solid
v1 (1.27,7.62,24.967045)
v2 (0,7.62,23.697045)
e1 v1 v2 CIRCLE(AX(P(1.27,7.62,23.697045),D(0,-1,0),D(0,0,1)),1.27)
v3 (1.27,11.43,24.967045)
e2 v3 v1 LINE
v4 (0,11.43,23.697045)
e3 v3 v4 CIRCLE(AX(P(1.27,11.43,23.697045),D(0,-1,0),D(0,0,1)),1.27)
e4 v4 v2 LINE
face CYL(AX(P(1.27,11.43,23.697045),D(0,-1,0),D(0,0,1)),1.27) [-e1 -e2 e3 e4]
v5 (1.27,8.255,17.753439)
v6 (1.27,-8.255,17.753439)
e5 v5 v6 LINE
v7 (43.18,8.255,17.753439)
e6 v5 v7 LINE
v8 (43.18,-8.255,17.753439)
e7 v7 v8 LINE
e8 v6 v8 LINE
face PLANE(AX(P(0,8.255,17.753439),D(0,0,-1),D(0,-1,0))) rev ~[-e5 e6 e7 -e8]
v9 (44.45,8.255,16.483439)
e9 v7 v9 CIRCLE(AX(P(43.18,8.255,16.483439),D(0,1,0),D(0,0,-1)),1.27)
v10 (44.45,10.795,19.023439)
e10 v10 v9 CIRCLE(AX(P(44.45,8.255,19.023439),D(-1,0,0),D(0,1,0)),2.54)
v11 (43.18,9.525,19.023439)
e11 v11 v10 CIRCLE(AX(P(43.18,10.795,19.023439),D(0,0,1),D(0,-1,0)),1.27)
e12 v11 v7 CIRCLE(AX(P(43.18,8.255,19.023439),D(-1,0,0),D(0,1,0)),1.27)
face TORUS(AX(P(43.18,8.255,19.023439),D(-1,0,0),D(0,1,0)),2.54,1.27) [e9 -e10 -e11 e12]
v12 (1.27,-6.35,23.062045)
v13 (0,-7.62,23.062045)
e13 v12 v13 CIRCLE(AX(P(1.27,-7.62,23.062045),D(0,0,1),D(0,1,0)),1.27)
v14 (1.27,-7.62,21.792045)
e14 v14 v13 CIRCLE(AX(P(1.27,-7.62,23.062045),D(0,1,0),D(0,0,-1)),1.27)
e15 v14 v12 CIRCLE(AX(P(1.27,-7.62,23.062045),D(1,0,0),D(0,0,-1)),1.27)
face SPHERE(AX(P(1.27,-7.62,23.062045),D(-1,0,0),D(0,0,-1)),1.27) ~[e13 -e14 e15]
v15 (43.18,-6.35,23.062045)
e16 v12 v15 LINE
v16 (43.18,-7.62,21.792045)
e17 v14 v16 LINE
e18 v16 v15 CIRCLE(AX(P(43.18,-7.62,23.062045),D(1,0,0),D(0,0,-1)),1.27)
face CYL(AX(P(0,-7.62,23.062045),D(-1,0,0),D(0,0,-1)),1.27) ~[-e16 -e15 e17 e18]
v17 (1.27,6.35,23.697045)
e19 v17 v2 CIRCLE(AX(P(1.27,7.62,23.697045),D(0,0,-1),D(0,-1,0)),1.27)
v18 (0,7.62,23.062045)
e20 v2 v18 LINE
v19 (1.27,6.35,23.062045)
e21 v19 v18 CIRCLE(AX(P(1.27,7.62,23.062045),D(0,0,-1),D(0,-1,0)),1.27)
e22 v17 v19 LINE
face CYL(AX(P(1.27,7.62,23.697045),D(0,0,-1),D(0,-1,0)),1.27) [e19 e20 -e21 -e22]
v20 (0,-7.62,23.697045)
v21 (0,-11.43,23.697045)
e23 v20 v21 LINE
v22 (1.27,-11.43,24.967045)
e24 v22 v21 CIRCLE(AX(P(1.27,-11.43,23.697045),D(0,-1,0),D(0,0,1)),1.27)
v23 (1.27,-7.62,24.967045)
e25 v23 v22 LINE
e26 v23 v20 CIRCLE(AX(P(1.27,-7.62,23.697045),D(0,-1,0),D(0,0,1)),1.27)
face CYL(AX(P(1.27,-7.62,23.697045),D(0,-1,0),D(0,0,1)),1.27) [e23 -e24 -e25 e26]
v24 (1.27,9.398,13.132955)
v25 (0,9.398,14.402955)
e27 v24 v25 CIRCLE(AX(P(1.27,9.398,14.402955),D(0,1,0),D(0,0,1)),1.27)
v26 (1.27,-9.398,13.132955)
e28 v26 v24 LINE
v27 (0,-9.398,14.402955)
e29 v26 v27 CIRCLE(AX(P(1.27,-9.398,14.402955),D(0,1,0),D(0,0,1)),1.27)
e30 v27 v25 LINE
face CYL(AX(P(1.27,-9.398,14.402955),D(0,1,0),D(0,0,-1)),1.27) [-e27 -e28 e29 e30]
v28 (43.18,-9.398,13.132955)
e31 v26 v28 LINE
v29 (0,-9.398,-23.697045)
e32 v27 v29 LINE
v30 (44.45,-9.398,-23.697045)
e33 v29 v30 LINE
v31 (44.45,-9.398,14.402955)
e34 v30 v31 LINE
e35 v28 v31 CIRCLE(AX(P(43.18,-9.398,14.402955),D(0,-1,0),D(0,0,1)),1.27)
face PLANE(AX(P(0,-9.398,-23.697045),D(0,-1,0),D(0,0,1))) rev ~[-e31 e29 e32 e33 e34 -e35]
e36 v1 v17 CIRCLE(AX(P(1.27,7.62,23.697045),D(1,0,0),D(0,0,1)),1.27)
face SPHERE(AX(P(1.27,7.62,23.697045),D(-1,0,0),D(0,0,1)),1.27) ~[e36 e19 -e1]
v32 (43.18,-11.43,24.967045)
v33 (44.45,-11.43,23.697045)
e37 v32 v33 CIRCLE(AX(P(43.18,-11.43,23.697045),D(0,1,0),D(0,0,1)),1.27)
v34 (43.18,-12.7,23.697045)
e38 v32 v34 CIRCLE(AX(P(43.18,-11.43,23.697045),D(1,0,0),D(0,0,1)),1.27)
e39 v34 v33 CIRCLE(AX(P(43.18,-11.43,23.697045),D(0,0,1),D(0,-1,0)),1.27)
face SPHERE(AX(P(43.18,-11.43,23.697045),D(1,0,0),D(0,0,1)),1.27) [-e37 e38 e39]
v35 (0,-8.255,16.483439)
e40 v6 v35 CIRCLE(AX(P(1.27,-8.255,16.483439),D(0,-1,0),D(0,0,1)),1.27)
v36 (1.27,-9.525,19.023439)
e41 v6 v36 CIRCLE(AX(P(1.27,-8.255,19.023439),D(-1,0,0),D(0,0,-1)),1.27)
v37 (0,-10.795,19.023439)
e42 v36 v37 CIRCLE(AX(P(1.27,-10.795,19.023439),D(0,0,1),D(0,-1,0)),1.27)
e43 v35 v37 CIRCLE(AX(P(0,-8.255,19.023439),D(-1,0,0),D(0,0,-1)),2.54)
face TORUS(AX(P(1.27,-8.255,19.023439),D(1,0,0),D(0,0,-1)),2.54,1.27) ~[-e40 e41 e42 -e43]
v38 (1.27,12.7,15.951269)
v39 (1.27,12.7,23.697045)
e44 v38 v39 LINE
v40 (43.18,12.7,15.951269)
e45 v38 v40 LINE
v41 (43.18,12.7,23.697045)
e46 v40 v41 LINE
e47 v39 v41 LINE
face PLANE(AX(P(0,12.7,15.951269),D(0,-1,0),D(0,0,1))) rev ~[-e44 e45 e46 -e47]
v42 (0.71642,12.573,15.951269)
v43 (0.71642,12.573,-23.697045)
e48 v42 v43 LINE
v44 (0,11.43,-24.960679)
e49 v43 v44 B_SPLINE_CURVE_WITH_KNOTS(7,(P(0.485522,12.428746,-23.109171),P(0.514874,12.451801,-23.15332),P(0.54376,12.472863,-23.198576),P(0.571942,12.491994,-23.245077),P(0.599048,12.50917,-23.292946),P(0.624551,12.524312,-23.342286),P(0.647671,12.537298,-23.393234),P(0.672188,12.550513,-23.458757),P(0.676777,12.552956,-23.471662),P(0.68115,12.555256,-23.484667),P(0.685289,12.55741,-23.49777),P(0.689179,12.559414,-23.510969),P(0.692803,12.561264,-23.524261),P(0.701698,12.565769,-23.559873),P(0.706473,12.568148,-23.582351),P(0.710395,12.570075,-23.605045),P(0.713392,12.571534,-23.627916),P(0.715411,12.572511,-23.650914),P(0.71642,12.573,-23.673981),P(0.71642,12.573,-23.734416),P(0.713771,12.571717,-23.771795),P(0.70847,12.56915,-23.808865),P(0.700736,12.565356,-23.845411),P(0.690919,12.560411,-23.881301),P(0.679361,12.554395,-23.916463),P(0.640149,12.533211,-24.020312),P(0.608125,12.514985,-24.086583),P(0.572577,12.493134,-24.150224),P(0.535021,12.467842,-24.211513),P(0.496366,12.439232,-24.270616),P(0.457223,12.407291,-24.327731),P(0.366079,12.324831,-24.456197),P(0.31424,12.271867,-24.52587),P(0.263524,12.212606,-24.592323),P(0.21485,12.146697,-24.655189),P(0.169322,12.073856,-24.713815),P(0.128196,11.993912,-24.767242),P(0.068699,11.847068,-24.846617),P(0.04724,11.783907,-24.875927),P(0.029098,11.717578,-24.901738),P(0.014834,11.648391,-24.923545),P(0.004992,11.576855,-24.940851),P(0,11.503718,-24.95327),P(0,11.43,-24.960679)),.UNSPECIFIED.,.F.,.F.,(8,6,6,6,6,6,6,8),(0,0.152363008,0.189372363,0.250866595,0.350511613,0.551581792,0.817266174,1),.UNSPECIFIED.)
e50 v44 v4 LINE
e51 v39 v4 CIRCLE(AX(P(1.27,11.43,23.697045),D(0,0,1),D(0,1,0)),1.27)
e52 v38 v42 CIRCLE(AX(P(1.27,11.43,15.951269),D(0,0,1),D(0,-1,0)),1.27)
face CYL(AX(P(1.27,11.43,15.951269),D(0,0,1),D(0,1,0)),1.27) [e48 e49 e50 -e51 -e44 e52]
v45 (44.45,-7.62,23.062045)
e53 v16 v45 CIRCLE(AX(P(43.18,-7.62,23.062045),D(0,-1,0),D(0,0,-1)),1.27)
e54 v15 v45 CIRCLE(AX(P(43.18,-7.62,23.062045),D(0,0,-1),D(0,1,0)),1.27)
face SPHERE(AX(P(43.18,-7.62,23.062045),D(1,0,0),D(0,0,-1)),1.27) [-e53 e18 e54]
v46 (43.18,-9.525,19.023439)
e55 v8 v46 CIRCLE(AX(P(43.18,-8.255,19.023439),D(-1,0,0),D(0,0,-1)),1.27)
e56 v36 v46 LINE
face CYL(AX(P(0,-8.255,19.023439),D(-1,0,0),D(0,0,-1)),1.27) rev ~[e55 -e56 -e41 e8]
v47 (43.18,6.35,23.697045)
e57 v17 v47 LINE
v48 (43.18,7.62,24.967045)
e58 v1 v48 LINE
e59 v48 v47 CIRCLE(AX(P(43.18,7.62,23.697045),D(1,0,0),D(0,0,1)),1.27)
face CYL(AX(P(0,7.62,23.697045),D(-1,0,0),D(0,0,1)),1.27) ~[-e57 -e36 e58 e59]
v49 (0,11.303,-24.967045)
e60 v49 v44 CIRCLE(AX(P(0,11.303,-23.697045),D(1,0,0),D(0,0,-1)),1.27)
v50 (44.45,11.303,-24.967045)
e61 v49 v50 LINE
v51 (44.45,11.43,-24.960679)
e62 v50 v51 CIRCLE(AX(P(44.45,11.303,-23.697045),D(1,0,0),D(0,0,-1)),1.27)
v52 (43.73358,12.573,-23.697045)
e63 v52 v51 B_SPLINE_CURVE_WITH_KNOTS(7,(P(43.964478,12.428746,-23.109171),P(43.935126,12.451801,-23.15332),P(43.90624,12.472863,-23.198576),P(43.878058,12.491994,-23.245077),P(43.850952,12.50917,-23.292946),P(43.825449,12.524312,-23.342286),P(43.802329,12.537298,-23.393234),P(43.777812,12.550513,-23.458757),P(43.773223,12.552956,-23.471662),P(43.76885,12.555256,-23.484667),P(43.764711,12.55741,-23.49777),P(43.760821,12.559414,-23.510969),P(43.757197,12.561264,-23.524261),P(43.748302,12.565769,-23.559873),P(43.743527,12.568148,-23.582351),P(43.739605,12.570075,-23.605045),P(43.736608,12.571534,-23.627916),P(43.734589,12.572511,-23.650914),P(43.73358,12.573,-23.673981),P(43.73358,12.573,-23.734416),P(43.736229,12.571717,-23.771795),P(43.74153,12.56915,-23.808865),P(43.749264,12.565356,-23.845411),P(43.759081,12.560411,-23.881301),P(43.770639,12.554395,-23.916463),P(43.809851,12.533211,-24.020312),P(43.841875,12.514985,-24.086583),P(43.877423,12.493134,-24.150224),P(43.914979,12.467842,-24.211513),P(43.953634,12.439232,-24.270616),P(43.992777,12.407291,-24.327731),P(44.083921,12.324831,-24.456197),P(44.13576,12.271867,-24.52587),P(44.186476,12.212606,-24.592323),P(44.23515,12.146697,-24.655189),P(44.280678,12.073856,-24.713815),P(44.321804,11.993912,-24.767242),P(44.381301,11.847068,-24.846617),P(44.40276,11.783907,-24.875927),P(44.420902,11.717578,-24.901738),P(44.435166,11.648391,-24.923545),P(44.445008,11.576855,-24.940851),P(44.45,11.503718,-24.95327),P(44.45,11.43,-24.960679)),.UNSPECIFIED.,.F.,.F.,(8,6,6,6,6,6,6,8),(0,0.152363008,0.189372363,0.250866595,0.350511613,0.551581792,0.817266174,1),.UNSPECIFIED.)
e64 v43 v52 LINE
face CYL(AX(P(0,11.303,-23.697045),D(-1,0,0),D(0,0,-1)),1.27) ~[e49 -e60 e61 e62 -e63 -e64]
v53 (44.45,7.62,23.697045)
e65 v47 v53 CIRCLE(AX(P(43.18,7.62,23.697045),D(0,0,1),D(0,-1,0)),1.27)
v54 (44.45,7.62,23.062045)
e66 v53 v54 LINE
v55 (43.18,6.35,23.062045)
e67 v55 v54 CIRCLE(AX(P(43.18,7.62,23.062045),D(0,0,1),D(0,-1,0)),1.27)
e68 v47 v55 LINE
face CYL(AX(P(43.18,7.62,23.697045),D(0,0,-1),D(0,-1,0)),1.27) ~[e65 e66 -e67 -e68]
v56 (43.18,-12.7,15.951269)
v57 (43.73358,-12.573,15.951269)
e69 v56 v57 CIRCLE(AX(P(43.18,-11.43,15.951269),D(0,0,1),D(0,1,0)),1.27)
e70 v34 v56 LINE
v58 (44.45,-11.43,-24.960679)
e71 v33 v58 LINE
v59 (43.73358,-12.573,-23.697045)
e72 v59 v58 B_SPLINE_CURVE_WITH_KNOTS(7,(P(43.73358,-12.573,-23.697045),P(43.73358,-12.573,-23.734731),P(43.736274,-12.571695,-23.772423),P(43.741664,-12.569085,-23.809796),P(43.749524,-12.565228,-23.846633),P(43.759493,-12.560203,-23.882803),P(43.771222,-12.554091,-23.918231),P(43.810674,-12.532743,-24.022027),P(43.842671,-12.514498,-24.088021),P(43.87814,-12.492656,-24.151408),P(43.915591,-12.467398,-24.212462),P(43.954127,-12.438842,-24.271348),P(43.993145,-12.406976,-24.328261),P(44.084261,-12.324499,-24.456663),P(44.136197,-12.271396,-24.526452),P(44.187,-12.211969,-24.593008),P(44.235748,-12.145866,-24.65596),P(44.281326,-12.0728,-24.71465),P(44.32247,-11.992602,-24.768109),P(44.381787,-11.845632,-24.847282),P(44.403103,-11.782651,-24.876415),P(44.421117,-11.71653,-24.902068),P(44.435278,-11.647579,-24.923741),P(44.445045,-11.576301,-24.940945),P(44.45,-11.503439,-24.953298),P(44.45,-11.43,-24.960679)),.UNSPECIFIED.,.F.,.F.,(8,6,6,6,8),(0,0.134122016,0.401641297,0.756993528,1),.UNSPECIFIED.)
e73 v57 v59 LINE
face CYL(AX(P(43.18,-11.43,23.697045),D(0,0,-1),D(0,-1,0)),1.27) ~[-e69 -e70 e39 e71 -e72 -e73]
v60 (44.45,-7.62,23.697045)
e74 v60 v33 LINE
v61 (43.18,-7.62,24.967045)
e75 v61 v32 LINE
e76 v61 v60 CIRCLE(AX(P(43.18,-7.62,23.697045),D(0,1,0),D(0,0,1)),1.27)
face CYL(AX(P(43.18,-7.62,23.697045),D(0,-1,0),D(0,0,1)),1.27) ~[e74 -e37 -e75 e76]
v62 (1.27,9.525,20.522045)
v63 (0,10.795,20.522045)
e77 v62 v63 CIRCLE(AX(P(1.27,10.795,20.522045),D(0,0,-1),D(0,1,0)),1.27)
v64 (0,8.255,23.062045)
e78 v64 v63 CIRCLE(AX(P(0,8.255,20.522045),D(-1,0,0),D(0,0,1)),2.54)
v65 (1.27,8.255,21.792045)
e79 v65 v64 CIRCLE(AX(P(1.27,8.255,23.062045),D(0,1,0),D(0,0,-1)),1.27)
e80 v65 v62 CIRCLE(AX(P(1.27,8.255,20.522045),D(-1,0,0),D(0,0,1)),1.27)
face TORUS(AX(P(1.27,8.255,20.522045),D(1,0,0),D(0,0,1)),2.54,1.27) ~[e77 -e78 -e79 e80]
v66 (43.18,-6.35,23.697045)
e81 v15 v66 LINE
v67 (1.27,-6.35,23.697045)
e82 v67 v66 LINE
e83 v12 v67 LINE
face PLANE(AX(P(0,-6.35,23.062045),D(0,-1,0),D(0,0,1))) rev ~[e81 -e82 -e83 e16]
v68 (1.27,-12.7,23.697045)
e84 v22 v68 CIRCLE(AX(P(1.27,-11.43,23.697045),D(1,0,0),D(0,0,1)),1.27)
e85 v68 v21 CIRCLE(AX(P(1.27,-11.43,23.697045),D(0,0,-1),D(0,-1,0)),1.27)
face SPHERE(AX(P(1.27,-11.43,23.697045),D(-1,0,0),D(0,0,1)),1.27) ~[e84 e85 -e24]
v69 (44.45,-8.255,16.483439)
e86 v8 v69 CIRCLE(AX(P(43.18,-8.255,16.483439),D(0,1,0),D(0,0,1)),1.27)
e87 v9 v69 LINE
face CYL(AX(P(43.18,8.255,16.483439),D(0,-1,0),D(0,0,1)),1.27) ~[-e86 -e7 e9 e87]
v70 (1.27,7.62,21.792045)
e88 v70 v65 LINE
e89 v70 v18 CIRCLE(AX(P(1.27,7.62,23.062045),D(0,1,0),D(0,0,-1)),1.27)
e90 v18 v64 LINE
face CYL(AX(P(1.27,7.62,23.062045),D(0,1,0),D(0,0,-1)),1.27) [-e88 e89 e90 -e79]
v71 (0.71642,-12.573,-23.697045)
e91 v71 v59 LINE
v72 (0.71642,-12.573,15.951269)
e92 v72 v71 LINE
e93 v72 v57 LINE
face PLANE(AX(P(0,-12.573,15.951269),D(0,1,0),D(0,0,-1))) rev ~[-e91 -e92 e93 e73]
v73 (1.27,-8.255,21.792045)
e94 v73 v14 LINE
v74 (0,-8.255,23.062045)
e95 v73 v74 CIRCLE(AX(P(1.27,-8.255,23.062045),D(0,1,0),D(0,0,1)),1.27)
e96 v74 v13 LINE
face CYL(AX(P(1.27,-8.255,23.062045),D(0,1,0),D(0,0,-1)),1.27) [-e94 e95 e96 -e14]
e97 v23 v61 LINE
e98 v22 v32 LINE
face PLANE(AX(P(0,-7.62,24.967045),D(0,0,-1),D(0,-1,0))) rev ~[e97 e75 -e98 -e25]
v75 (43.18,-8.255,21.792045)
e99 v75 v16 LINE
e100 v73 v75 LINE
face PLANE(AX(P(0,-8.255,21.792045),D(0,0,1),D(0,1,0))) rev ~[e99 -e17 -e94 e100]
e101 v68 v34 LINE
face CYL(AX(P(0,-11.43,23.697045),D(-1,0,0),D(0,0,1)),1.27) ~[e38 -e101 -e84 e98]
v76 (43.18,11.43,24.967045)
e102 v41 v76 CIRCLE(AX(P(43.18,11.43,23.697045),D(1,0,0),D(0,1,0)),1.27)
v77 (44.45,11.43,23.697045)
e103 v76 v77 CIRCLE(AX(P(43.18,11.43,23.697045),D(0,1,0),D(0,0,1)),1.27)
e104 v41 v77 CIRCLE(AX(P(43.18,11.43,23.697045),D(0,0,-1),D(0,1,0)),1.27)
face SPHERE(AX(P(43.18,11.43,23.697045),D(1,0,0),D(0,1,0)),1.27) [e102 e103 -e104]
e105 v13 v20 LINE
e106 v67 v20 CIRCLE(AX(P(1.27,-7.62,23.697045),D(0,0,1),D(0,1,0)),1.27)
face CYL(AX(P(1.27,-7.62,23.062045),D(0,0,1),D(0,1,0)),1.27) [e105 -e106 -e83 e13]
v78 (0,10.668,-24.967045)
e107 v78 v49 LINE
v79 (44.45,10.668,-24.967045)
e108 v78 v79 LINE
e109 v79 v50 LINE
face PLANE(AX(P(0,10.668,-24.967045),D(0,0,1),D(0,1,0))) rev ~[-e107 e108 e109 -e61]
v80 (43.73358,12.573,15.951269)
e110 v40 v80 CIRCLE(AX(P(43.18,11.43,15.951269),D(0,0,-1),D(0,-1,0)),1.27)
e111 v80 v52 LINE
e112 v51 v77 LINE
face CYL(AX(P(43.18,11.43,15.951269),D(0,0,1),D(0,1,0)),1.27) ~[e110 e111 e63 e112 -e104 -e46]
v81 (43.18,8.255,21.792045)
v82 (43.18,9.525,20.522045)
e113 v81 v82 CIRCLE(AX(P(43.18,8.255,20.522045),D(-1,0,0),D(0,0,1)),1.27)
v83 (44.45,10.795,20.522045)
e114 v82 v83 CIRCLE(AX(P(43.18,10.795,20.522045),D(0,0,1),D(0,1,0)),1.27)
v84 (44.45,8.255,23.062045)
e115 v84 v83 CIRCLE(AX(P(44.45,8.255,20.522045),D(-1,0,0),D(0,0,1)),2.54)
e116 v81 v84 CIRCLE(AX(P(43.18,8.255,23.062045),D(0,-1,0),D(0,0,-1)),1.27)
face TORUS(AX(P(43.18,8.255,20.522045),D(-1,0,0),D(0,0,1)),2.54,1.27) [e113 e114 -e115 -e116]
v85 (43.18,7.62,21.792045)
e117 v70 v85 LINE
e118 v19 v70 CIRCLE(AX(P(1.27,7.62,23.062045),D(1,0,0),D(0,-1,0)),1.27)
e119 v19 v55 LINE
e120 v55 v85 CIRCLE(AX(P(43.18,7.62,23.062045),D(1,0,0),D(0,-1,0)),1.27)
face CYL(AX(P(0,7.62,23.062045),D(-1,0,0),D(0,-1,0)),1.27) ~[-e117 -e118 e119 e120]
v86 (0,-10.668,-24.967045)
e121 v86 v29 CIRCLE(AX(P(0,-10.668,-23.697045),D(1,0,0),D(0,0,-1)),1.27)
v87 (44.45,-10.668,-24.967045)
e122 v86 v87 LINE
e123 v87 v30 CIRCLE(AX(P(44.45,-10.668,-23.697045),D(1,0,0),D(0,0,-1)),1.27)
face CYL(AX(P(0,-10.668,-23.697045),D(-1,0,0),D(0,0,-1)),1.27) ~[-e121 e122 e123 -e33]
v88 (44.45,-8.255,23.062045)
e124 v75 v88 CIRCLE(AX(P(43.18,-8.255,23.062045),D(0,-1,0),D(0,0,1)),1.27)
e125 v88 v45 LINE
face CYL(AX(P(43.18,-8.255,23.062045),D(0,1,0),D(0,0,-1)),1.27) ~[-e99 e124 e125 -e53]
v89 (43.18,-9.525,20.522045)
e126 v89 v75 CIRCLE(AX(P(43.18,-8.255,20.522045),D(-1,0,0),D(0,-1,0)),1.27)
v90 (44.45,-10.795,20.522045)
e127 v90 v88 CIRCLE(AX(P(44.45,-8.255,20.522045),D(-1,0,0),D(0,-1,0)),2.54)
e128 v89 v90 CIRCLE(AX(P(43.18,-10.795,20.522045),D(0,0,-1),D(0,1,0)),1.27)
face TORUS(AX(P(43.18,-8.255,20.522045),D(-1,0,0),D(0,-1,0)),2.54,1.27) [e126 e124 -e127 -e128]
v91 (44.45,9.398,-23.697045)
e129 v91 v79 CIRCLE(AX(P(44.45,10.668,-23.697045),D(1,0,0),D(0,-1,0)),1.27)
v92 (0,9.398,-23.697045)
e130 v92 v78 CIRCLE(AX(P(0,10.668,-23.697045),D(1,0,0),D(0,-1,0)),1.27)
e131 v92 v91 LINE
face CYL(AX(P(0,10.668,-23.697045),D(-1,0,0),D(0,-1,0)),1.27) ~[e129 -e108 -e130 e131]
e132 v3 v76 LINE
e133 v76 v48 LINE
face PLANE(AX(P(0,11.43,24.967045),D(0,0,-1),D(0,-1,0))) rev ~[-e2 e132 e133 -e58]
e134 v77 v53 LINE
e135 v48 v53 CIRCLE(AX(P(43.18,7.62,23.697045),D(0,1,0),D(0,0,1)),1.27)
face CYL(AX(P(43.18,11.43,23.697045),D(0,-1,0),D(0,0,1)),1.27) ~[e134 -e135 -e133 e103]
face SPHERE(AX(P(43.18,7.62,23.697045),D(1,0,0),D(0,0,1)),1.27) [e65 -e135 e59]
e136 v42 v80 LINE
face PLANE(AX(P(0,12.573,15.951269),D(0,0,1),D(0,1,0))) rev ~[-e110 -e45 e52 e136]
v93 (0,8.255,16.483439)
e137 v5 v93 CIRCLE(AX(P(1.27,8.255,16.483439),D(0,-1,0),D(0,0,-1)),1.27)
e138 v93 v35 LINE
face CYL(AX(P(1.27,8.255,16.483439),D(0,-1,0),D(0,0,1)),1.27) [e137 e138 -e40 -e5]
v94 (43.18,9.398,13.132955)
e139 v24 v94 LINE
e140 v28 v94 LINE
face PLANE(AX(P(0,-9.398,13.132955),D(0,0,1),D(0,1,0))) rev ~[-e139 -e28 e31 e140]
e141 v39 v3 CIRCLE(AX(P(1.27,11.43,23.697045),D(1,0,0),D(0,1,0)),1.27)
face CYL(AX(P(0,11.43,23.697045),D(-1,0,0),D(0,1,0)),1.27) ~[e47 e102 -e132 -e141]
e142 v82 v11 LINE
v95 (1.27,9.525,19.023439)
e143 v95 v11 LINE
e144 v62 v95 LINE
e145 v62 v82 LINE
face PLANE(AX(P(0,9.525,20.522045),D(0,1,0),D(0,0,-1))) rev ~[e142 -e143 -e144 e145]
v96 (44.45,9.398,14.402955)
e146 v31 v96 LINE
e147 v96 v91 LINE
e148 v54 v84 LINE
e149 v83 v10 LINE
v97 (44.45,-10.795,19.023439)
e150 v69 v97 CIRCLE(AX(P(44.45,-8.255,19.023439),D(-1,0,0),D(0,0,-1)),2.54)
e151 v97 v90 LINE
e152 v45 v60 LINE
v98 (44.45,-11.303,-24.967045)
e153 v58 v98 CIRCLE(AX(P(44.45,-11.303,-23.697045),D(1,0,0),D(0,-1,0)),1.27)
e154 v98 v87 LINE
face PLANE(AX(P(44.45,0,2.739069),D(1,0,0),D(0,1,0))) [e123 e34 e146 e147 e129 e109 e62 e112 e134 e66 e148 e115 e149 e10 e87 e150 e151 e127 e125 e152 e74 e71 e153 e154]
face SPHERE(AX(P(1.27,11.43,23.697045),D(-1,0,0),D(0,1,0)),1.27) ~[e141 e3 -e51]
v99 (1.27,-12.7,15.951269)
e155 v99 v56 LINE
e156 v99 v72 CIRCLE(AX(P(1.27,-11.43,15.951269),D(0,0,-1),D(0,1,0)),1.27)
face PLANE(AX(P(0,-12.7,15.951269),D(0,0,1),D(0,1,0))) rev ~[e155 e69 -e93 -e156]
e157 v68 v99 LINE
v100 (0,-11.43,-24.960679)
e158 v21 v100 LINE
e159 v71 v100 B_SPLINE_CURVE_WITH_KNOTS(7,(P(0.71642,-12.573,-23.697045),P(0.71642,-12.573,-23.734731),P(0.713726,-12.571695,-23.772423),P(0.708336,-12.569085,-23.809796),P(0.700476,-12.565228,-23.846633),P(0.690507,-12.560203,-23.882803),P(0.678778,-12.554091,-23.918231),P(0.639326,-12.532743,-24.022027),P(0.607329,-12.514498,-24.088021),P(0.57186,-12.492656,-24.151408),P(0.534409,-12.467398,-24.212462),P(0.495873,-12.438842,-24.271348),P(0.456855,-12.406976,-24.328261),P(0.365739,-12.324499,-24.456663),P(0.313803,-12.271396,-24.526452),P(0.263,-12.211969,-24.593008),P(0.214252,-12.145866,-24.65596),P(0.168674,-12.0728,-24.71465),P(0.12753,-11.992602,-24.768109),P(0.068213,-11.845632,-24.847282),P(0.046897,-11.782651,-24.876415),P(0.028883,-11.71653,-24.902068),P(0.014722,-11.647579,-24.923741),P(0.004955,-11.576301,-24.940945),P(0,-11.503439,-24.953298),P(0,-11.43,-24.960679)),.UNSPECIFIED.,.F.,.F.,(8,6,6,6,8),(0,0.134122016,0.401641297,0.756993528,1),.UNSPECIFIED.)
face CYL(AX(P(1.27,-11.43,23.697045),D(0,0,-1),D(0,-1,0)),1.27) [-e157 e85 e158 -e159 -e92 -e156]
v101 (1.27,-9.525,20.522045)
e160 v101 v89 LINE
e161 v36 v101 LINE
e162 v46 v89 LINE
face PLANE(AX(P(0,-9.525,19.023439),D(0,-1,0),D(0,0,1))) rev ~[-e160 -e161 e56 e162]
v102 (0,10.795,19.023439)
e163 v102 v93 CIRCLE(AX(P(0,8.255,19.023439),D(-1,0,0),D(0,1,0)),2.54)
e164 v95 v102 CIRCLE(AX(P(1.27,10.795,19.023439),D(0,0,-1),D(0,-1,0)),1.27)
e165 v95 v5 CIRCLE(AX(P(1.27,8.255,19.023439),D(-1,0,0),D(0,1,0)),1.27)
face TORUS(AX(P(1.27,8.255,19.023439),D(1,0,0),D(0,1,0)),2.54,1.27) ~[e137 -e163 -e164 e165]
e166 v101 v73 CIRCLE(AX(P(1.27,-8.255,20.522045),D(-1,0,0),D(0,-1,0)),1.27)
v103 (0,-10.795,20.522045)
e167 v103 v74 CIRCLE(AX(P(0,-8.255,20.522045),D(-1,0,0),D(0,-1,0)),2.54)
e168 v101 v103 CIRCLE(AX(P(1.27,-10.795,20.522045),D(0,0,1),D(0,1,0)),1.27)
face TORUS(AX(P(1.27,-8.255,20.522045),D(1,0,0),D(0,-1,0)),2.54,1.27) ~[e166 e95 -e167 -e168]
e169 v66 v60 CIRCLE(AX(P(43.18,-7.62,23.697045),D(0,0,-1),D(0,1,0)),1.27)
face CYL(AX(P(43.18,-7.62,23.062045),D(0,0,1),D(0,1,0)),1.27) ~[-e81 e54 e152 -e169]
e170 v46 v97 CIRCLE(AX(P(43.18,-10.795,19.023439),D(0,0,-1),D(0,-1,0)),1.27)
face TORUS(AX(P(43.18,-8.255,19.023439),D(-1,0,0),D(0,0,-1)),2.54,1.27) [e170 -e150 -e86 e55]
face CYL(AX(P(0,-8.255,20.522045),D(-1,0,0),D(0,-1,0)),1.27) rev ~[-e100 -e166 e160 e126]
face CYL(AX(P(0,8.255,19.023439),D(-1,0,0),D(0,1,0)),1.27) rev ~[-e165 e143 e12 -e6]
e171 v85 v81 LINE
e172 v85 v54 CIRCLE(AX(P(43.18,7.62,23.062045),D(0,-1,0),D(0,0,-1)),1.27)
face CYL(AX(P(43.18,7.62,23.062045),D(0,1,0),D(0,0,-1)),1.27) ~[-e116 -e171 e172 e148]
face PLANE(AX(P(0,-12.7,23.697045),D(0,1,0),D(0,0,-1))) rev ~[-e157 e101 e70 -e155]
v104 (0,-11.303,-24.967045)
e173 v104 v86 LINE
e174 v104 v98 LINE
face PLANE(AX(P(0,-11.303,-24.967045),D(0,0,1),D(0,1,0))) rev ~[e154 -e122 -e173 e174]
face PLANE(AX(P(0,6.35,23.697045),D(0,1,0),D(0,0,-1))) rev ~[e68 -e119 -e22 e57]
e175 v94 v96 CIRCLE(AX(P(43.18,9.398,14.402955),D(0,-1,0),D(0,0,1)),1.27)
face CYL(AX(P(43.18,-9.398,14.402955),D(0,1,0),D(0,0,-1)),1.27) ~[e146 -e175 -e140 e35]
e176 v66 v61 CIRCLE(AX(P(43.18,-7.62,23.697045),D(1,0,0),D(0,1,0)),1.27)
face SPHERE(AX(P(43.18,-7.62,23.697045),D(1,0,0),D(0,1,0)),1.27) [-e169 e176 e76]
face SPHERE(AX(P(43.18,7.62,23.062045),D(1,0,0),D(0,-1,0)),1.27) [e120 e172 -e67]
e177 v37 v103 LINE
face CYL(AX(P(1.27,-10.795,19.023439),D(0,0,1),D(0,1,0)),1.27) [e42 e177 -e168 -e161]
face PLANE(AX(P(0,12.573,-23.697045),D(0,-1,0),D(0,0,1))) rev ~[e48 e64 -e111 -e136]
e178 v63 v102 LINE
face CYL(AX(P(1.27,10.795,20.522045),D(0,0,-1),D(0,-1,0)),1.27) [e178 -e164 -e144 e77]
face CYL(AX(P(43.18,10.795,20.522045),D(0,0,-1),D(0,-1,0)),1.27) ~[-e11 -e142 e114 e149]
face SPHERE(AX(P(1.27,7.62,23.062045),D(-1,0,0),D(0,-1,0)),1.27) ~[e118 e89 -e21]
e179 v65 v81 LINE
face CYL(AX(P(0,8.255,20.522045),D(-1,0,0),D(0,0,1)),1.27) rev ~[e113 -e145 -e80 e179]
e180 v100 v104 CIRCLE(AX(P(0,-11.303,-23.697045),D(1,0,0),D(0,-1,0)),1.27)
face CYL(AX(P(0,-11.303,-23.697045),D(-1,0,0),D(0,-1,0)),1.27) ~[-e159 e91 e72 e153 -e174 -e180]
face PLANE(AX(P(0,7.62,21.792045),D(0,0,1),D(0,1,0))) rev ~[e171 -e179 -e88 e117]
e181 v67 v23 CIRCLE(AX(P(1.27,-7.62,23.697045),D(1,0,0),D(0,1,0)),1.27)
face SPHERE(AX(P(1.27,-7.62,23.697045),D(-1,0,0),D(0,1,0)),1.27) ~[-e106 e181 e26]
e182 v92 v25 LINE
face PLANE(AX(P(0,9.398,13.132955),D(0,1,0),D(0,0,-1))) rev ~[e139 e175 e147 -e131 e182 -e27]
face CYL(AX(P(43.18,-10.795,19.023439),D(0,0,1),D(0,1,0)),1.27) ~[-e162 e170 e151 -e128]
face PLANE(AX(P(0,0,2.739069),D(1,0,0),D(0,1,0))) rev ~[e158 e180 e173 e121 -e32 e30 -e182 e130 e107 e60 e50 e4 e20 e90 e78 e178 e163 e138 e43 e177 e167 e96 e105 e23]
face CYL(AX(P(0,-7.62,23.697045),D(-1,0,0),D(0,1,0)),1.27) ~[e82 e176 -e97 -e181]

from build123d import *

# Parameters (mm, degrees)
F1_DEPTH = 44.45
F2_R     = 1.27


with BuildPart() as f1:
    # F0 (on Right) → F1 (new body)
    with BuildSketch(Plane.YZ):
        with BuildLine():
            Line((10.668, -24.967044556), (11.303, -24.967044556))
            ThreePointArc((11.303, -24.967044556), (12.2010256121, -24.5950701681), (12.573, -23.697044556))
            Line((12.573, -23.697044556), (12.573, 15.9512687449))
            Line((12.573, 15.9512687449), (12.7, 15.9512687449))
            Line((12.7, 15.9512687449), (12.7, 23.697044556))
            ThreePointArc((12.7, 23.697044556), (12.3280256121, 24.5950701681), (11.43, 24.967044556))
            Line((11.43, 24.967044556), (7.62, 24.967044556))
            ThreePointArc((7.62, 24.967044556), (6.7219743879, 24.5950701681), (6.35, 23.697044556))
            Line((6.35, 23.697044556), (6.35, 23.062044556))
            ThreePointArc((6.35, 23.062044556), (6.7219743879, 22.1640189439), (7.62, 21.792044556))
            Line((7.62, 21.792044556), (8.255, 21.792044556))
            ThreePointArc((8.255, 21.792044556), (9.1530256121, 21.4200701681), (9.525, 20.522044556))
            Line((9.525, 20.522044556), (9.525, 19.023438717))
            ThreePointArc((9.525, 19.023438717), (9.1530256121, 18.1254131049), (8.255, 17.753438717))
            Line((8.255, 17.753438717), (-8.255, 17.753438717))
            ThreePointArc((-8.255, 17.753438717), (-9.1530256121, 18.1254131049), (-9.525, 19.023438717))
            Line((-9.525, 19.023438717), (-9.525, 20.522044556))
            ThreePointArc((-9.525, 20.522044556), (-9.1530256121, 21.4200701681), (-8.255, 21.792044556))
            Line((-8.255, 21.792044556), (-7.62, 21.792044556))
            ThreePointArc((-7.62, 21.792044556), (-6.7219743879, 22.1640189439), (-6.35, 23.062044556))
            Line((-6.35, 23.062044556), (-6.35, 23.697044556))
            ThreePointArc((-6.35, 23.697044556), (-6.7219743879, 24.5950701681), (-7.62, 24.967044556))
            Line((-7.62, 24.967044556), (-11.43, 24.967044556))
            ThreePointArc((-11.43, 24.967044556), (-12.3280256121, 24.5950701681), (-12.7, 23.697044556))
            Line((-12.7, 23.697044556), (-12.7, 15.9512687449))
            Line((-12.7, 15.9512687449), (-12.573, 15.9512687449))
            Line((-12.573, 15.9512687449), (-12.573, -23.697044556))
            ThreePointArc((-12.573, -23.697044556), (-12.2010256121, -24.5950701681), (-11.303, -24.967044556))
            Line((-11.303, -24.967044556), (-10.668, -24.967044556))
            ThreePointArc((-10.668, -24.967044556), (-9.7699743879, -24.5950701681), (-9.398, -23.697044556))
            Line((-9.398, -23.697044556), (-9.398, 13.132955444))
            Line((-9.398, 13.132955444), (9.398, 13.132955444))
            Line((9.398, 13.132955444), (9.398, -23.697044556))
            ThreePointArc((9.398, -23.697044556), (9.7699743879, -24.5950701681), (10.668, -24.967044556))
        make_face()
    extrude(amount=F1_DEPTH)

    # F2
    f2_edges = [f1.edges().sort_by_distance(p)[0] for p in [
        (44.45, -12.7, 19.824157),
        (44.45, -9.525, 24.967045),
        (0, 0, 17.753439),
        (0, 0, 13.132955),
        (44.45, 0, 13.132955),
    ]]
    fillet(f2_edges, radius=F2_R)


solid = f1.part
